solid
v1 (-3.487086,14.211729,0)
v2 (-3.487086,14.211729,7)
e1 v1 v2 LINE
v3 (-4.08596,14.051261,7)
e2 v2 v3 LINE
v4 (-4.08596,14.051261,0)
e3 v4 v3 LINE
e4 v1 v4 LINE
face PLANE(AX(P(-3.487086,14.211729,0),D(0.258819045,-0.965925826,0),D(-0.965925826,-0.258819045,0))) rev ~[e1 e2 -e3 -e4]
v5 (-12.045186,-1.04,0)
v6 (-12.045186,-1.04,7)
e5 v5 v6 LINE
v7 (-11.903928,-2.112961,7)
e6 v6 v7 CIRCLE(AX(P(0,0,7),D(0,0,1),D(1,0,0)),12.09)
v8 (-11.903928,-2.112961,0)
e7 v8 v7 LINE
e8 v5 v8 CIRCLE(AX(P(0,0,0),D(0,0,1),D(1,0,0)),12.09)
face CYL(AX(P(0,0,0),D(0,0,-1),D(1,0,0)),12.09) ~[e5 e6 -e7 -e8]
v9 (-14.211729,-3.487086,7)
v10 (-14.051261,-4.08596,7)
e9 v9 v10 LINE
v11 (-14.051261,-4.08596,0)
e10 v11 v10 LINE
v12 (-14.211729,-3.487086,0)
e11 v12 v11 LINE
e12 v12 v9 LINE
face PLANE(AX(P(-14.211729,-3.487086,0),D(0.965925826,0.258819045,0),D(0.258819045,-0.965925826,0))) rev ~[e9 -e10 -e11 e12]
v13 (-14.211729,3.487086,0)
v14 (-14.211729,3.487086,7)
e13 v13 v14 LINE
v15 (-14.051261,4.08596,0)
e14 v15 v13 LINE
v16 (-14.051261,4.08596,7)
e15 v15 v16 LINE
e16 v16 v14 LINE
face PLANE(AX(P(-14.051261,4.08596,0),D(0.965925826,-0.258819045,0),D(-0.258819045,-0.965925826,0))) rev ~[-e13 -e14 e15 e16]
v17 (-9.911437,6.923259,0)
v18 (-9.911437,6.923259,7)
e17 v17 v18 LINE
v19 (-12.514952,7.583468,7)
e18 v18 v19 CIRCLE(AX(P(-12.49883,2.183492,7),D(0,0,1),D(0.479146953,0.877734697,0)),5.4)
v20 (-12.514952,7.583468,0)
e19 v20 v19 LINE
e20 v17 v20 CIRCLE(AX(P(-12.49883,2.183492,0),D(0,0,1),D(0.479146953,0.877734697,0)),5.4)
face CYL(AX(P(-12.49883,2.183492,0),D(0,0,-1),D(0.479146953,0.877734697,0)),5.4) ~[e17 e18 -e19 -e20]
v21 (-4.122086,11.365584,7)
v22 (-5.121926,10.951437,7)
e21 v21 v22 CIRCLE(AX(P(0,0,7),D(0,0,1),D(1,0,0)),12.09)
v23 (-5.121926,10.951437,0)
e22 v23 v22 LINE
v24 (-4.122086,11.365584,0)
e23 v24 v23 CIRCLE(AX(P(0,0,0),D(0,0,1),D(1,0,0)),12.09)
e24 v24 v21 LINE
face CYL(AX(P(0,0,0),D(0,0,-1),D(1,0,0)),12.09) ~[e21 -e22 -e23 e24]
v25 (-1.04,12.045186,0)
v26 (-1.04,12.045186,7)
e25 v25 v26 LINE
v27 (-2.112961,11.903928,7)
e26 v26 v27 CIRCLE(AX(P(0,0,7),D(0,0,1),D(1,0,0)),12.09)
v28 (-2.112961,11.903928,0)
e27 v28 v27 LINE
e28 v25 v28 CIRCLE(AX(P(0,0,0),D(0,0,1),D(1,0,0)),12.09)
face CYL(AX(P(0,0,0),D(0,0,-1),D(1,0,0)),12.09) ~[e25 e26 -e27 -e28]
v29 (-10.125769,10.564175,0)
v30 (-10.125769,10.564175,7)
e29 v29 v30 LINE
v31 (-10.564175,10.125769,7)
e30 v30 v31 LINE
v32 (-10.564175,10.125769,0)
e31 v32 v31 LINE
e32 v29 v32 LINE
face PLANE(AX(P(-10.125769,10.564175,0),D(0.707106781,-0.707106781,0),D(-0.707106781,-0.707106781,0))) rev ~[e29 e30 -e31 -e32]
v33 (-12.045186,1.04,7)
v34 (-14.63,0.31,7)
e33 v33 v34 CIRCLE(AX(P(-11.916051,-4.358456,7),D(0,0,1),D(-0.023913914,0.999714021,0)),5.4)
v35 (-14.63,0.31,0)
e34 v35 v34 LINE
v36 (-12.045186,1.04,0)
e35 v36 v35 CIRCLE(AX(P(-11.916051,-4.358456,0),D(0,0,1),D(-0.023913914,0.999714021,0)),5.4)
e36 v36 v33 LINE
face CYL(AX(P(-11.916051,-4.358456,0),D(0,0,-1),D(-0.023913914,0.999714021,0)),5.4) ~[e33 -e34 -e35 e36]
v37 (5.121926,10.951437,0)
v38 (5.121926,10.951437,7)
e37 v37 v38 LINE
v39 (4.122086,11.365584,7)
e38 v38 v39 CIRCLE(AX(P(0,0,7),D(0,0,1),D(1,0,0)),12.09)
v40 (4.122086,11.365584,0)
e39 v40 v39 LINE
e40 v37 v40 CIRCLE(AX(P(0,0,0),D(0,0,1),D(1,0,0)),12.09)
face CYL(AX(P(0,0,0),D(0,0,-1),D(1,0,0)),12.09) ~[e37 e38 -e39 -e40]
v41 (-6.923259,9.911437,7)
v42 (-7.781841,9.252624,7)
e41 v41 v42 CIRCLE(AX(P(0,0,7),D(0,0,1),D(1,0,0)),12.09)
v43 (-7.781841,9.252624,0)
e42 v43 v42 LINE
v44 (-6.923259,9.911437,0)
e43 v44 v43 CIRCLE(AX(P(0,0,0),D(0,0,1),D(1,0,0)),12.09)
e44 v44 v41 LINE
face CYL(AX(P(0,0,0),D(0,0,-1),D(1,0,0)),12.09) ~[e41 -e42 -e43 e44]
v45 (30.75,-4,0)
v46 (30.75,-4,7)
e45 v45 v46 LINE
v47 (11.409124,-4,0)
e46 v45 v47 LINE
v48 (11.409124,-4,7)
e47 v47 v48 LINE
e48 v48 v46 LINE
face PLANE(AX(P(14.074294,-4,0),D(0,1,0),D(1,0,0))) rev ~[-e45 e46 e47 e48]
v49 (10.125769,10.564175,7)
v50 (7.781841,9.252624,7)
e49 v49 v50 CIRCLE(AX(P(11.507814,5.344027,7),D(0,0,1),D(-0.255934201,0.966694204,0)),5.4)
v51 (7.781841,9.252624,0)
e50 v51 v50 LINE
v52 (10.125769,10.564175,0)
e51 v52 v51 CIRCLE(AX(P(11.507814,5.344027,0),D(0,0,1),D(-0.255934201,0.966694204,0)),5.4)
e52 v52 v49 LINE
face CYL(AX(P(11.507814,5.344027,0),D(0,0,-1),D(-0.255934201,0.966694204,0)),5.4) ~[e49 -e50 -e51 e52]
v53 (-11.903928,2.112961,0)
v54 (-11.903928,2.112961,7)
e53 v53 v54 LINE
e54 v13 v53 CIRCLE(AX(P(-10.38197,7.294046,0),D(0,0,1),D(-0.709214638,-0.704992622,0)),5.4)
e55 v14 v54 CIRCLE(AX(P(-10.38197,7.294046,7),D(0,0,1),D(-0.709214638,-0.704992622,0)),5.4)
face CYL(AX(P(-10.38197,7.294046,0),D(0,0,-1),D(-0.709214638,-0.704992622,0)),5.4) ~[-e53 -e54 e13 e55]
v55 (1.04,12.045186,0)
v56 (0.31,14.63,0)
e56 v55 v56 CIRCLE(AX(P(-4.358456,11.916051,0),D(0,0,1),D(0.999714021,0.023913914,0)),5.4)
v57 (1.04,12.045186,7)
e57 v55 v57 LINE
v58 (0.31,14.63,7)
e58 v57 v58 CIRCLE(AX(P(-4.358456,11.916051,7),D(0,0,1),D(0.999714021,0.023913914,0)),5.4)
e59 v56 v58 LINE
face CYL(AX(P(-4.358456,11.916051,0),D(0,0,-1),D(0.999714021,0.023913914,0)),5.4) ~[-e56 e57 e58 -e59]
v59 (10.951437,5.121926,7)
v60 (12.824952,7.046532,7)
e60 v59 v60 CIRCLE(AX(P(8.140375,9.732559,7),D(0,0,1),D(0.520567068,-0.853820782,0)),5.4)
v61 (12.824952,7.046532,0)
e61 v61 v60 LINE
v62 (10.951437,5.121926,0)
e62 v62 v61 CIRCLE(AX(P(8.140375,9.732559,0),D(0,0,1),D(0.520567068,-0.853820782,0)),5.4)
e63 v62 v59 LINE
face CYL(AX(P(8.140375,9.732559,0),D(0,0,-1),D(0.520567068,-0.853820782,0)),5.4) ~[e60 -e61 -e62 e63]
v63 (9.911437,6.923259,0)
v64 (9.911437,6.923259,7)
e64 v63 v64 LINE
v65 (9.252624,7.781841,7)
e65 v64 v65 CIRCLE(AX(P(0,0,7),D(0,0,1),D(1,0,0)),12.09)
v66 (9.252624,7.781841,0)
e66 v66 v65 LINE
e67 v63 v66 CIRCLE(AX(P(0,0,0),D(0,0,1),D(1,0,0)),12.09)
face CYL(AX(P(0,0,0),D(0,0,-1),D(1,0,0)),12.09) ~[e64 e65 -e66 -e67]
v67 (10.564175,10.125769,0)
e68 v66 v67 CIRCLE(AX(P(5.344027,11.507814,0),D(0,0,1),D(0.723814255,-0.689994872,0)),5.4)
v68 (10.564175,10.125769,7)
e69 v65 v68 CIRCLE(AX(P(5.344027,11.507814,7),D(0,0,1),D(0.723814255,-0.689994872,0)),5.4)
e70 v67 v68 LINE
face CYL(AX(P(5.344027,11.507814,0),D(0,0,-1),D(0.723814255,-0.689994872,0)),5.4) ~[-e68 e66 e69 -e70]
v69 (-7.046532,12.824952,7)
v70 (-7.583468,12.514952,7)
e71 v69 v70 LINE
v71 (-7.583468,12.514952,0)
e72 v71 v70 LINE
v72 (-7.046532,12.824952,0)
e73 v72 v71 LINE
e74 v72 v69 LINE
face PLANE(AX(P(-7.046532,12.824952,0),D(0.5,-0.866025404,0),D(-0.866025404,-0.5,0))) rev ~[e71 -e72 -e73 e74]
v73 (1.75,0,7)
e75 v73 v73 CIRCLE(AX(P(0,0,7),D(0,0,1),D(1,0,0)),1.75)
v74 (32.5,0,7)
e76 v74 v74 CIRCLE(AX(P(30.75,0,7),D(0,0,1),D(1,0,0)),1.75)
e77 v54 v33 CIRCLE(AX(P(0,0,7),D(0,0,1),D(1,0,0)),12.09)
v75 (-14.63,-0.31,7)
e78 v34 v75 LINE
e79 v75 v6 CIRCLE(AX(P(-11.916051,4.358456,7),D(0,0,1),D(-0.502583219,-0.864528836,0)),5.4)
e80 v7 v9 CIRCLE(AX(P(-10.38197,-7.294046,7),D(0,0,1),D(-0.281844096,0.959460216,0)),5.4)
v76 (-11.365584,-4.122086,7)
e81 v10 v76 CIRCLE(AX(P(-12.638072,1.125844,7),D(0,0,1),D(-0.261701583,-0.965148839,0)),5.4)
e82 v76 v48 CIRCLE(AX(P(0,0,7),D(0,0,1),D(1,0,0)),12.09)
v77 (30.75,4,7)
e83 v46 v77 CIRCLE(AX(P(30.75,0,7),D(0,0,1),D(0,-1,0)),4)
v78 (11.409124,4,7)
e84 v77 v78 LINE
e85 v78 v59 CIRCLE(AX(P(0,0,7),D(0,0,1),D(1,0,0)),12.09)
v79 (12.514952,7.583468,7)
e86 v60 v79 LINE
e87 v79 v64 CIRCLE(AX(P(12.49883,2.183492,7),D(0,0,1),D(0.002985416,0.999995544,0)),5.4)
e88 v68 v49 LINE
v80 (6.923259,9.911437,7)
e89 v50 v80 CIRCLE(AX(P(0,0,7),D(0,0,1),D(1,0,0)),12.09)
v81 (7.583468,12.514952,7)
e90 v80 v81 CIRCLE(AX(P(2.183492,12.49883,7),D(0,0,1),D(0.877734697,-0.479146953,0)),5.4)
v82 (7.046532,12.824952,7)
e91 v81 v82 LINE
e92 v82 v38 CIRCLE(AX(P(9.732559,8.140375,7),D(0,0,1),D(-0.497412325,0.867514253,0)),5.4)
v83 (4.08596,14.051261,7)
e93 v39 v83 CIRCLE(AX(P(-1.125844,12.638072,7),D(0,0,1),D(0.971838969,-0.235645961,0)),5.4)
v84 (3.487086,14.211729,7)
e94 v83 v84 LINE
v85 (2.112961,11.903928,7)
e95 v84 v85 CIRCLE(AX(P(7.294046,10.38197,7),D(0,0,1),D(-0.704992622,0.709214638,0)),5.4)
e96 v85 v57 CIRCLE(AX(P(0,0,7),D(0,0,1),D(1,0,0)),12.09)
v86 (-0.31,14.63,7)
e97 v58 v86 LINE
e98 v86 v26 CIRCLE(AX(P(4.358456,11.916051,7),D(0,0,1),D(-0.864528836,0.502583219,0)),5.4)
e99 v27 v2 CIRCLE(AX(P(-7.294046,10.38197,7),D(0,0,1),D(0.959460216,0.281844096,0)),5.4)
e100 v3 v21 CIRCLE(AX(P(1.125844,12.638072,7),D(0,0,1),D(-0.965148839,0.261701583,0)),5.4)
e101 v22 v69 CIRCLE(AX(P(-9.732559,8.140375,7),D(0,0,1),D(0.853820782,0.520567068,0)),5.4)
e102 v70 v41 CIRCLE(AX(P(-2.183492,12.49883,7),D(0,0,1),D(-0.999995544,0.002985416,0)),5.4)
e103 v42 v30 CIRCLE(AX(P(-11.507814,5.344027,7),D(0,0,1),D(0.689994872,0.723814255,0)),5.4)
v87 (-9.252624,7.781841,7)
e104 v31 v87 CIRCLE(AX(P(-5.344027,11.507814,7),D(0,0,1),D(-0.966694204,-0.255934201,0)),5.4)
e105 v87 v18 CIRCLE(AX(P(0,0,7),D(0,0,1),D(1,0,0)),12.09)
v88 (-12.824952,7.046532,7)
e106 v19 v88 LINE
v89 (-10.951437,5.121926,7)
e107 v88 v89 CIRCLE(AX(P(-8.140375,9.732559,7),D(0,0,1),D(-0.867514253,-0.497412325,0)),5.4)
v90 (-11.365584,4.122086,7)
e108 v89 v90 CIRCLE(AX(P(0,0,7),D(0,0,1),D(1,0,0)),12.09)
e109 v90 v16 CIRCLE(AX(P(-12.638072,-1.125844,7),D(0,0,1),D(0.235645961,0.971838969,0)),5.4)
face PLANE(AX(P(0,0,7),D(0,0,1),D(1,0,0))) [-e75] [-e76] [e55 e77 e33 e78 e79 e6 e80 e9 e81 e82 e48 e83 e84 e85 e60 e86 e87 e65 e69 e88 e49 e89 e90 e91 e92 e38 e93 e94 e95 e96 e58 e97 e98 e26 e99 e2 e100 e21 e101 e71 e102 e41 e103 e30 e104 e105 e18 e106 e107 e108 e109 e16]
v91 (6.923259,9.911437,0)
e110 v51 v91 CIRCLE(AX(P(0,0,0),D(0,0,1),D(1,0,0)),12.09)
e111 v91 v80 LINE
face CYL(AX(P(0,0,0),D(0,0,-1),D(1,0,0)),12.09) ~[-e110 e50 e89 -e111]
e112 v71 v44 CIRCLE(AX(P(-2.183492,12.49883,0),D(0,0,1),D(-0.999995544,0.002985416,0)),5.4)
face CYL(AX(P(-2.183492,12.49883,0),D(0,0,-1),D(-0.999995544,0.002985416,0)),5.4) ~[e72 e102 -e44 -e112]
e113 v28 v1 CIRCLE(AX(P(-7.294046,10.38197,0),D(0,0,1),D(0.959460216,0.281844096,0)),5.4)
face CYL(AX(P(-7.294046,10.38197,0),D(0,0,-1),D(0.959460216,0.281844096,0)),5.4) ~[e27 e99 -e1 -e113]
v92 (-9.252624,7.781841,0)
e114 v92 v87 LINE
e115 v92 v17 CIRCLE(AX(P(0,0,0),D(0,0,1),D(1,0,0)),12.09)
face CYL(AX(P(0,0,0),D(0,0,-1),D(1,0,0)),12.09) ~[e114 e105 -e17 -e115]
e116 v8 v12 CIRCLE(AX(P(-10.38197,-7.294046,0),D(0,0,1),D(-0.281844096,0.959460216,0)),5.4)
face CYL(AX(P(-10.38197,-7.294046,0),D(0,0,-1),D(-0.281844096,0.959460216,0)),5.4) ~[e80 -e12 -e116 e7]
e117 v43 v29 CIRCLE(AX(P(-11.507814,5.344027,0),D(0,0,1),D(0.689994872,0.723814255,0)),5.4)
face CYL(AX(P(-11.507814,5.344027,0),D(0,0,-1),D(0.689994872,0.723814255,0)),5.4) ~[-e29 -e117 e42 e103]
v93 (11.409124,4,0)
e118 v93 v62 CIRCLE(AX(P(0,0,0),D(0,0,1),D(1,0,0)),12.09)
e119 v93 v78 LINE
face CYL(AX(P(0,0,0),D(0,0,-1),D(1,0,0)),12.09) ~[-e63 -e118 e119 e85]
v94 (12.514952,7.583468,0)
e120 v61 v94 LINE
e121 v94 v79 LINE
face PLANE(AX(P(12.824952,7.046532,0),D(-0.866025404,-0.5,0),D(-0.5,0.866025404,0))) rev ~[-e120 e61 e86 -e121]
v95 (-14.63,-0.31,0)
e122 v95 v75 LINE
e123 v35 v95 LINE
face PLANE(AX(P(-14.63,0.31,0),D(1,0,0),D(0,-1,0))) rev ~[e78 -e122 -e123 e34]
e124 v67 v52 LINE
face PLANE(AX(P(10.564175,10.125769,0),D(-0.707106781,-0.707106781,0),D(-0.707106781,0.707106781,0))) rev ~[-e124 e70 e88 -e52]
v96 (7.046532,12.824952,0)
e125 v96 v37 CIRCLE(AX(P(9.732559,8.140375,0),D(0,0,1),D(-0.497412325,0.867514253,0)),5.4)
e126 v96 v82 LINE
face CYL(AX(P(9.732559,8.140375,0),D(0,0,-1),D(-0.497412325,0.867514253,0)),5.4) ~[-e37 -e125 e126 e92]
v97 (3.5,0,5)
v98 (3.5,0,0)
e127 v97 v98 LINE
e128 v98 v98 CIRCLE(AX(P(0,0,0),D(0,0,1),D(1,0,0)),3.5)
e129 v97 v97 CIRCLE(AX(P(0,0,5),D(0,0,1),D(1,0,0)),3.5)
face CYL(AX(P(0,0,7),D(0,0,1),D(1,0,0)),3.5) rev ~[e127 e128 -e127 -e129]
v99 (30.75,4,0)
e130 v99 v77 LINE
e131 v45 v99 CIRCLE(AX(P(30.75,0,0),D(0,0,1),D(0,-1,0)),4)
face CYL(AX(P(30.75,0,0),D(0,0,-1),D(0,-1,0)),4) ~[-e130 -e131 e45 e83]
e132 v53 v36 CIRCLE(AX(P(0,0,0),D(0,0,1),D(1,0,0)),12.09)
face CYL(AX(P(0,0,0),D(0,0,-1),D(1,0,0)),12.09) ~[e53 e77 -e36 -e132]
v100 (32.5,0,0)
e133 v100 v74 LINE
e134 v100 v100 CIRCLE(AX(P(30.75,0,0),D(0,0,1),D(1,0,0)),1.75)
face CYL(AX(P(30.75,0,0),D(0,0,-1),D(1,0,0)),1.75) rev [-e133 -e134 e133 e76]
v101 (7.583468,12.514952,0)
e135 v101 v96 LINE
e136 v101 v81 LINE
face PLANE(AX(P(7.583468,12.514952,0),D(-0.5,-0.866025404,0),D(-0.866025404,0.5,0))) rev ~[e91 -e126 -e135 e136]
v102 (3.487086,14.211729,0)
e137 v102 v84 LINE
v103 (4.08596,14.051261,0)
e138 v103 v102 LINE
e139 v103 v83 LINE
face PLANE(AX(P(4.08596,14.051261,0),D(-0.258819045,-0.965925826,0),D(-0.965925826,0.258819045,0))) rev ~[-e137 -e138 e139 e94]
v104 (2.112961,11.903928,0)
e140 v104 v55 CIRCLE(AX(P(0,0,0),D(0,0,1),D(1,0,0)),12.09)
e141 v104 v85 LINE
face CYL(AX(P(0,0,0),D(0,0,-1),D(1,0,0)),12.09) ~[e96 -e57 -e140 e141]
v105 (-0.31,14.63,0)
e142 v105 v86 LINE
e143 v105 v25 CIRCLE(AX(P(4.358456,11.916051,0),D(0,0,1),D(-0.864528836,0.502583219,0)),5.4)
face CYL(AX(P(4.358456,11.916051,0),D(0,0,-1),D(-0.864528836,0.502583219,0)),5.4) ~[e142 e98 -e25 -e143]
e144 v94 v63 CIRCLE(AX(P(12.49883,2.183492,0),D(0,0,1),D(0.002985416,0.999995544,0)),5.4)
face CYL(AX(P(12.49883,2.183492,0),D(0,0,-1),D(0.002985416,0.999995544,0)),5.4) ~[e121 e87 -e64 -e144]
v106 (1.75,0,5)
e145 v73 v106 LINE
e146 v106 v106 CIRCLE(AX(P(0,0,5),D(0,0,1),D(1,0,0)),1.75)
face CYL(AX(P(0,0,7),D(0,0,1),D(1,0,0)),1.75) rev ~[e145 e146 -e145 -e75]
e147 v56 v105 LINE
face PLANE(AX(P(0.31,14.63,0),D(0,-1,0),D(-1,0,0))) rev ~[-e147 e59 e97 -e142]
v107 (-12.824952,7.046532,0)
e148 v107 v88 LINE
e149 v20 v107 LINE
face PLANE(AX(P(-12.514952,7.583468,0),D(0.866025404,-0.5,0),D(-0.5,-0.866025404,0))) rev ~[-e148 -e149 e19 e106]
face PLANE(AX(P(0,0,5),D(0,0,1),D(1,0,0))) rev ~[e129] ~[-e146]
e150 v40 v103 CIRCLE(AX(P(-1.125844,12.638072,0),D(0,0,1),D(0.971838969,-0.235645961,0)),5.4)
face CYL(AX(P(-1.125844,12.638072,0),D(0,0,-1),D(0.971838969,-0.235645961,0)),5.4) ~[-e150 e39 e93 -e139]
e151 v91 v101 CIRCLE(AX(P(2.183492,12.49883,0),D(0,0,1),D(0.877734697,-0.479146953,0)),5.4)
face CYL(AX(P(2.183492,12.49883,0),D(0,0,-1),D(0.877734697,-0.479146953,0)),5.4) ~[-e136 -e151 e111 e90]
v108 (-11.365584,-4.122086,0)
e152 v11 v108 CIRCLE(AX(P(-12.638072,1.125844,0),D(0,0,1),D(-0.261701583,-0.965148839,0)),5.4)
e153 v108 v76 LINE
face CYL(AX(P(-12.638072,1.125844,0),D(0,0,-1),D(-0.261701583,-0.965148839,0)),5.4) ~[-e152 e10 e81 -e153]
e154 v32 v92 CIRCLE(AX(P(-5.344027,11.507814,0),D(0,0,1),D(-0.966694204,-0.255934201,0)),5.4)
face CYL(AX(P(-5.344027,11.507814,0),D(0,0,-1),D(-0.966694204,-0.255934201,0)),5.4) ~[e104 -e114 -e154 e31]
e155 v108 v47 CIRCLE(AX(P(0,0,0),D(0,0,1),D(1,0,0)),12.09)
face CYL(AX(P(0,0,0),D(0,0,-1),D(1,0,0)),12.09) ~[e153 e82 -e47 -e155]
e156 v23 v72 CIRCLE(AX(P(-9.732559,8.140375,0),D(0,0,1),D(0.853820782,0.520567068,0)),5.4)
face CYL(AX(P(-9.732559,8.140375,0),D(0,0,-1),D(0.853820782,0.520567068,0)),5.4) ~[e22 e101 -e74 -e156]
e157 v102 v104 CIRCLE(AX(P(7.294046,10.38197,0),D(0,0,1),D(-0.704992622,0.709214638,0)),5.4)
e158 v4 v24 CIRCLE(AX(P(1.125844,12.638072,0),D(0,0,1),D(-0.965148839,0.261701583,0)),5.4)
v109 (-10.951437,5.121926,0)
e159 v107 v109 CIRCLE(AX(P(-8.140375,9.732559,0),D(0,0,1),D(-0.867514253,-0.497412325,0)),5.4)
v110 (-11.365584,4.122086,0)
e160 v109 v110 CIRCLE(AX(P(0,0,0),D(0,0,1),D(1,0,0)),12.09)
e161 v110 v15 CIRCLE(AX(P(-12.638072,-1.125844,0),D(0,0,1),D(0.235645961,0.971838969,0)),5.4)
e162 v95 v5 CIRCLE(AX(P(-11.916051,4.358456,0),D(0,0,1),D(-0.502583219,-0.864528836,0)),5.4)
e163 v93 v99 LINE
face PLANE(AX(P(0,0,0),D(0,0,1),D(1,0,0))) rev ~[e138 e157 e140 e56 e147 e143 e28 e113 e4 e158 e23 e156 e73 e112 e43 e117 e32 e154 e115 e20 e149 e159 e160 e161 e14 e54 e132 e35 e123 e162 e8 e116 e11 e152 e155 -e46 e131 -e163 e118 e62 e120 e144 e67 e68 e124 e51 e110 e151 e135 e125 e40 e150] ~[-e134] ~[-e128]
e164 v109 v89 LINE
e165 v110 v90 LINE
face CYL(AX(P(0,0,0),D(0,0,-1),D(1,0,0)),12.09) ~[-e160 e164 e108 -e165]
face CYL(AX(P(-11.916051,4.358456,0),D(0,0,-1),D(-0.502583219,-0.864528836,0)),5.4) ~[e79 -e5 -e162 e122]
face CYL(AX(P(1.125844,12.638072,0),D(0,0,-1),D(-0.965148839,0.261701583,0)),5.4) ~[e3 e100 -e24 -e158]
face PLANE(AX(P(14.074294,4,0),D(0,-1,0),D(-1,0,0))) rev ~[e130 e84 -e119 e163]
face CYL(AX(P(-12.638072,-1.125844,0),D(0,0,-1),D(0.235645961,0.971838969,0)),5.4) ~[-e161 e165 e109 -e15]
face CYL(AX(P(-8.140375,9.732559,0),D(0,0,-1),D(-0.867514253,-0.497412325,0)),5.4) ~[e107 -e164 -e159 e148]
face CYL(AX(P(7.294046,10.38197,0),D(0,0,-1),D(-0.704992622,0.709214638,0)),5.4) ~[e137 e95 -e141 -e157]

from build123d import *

# Parameters (mm, degrees)
SKETCH1_R           = 12.09
SKETCH1_R_2         = 1.75
BOSS_EXTRUDE2_DEPTH = 7
SKETCH2_R           = 3.5
CUT_EXTRUDE1_DEPTH  = 39.348395012
SKETCH3_R           = 3.5
SKETCH3_R_2         = 1.75
BOSS_EXTRUDE3_DEPTH = 2


with BuildPart() as part:
    # Sketch1 → Boss-Extrude2 (new body)
    # profile 1 of 17: a face of its own
    with BuildSketch(Plane.XY):
        Circle(SKETCH1_R)
    # profile 2 of 17: a face of its own
    with BuildSketch(Plane.XY):
        with BuildLine():
            ThreePointArc((-9.252623584, 7.781841479), (-8.548920985, 8.548920985), (-7.781841479, 9.252623584))
            ThreePointArc((-7.781841479, 9.252623584), (-8.870959341, 10.05645683), (-10.125769107, 10.564175311))
            Line((-10.125769107, 10.564175311), (-10.564175311, 10.125769107))
            ThreePointArc((-10.564175311, 10.125769107), (-10.05645683, 8.870959341), (-9.252623584, 7.781841479))
        make_face()
    # profile 3 of 17: a face of its own
    with BuildSketch(Plane.XY):
        with BuildLine():
            ThreePointArc((-6.9232593, 9.911436862), (-6.045, 10.470247132), (-5.12192646, 10.951436862))
            ThreePointArc((-5.12192646, 10.951436862), (-5.965886177, 12.009764599), (-7.046532125, 12.824951657))
            Line((-7.046532125, 12.824951657), (-7.583467875, 12.514951657))
            ThreePointArc((-7.583467875, 12.514951657), (-7.417818147, 11.171491285), (-6.9232593, 9.911436862))
        make_face()
    # profile 4 of 17: a face of its own
    with BuildSketch(Plane.XY):
        with BuildLine():
            ThreePointArc((-4.122086336, 11.365584201), (-3.129122255, 11.67804324), (-2.112960617, 11.903927815))
            ThreePointArc((-2.112960617, 11.903927815), (-2.65424773, 13.144626757), (-3.487085624, 14.211728743))
            Line((-3.487085624, 14.211728743), (-4.085959636, 14.051260935))
            ThreePointArc((-4.085959636, 14.051260935), (-4.273667417, 12.71070456), (-4.122086336, 11.365584201))
        make_face()
    # profile 5 of 17: a face of its own
    with BuildSketch(Plane.XY):
        with BuildLine():
            Line((0.31, 14.63), (-0.31, 14.63))
            ThreePointArc((-0.31, 14.63), (-0.838273314, 13.383704325), (-1.04, 12.04518576))
            ThreePointArc((-1.04, 12.04518576), (0, 12.09), (1.04, 12.04518576))
            ThreePointArc((1.04, 12.04518576), (0.838273314, 13.383704325), (0.31, 14.63))
        make_face()
    # profile 6 of 17: a face of its own
    with BuildSketch(Plane.XY):
        with BuildLine():
            ThreePointArc((3.487085624, 14.211728743), (2.65424773, 13.144626757), (2.112960617, 11.903927815))
            ThreePointArc((2.112960617, 11.903927815), (3.129122255, 11.67804324), (4.122086336, 11.365584201))
            ThreePointArc((4.122086336, 11.365584201), (4.273667417, 12.71070456), (4.085959636, 14.051260935))
            Line((4.085959636, 14.051260935), (3.487085624, 14.211728743))
        make_face()
    # profile 7 of 17: a face of its own
    with BuildSketch(Plane.XY):
        with BuildLine():
            ThreePointArc((7.046532125, 12.824951657), (5.965886177, 12.009764599), (5.12192646, 10.951436862))
            ThreePointArc((5.12192646, 10.951436862), (6.045, 10.470247132), (6.9232593, 9.911436862))
            ThreePointArc((6.9232593, 9.911436862), (7.417818147, 11.171491285), (7.583467875, 12.514951657))
            Line((7.583467875, 12.514951657), (7.046532125, 12.824951657))
        make_face()
    # profile 8 of 17: a face of its own
    with BuildSketch(Plane.XY):
        with BuildLine():
            ThreePointArc((10.125769107, 10.564175311), (8.870959341, 10.05645683), (7.781841479, 9.252623584))
            ThreePointArc((7.781841479, 9.252623584), (8.548920985, 8.548920985), (9.252623584, 7.781841479))
            ThreePointArc((9.252623584, 7.781841479), (10.05645683, 8.870959341), (10.564175311, 10.125769107))
            Line((10.564175311, 10.125769107), (10.125769107, 10.564175311))
        make_face()
    # profile 9 of 17: a face of its own
    with BuildSketch(Plane.XY):
        with BuildLine():
            ThreePointArc((12.514951657, 7.583467875), (11.171491285, 7.417818147), (9.911436862, 6.9232593))
            ThreePointArc((9.911436862, 6.9232593), (10.470247132, 6.045), (10.951436862, 5.12192646))
            ThreePointArc((10.951436862, 5.12192646), (12.009764599, 5.965886177), (12.824951657, 7.046532125))
            Line((12.824951657, 7.046532125), (12.514951657, 7.583467875))
        make_face()
    # profile 10 of 17: a face of its own
    with BuildSketch(Plane.XY):
        with BuildLine():
            Line((14.07429375, 4), (11.409123542, 4))
            ThreePointArc((11.409123542, 4), (11.694649217, 3.066476756), (11.903927815, 2.112960617))
            ThreePointArc((11.903927815, 2.112960617), (13.144626757, 2.65424773), (14.211728743, 3.487085624))
            Line((14.211728743, 3.487085624), (14.07429375, 4))
        make_face()
    # profile 11 of 17: a face of its own
    with BuildSketch(Plane.XY):
        with BuildLine():
            Line((30.75, 4), (14.07429375, 4))
            Line((14.07429375, 4), (14.211728743, 3.487085624))
            ThreePointArc((14.211728743, 3.487085624), (13.144626757, 2.65424773), (11.903927815, 2.112960617))
            ThreePointArc((11.903927815, 2.112960617), (11.986568374, 1.578061664), (12.04518576, 1.04))
            ThreePointArc((12.04518576, 1.04), (13.383704325, 0.838273314), (14.63, 0.31))
            Line((14.63, 0.31), (14.63, -0.31))
            ThreePointArc((14.63, -0.31), (13.383704325, -0.838273314), (12.04518576, -1.04))
            ThreePointArc((12.04518576, -1.04), (11.986568374, -1.578061664), (11.903927815, -2.112960617))
            ThreePointArc((11.903927815, -2.112960617), (13.144626757, -2.65424773), (14.211728743, -3.487085624))
            Line((14.211728743, -3.487085624), (14.07429375, -4))
            Line((14.07429375, -4), (30.75, -4))
            ThreePointArc((30.75, -4), (34.75, 0), (30.75, 4))
        make_face()
        with Locations((30.75, 0)):
            Circle(SKETCH1_R_2, mode=Mode.SUBTRACT)
    # profile 12 of 17: a face of its own
    with BuildSketch(Plane.XY):
        with BuildLine():
            ThreePointArc((14.63, 0.31), (13.383704325, 0.838273314), (12.04518576, 1.04))
            ThreePointArc((12.04518576, 1.04), (12.078791244, 0.520482544), (12.09, 0))
            ThreePointArc((12.09, 0), (12.078791244, -0.520482544), (12.04518576, -1.04))
            ThreePointArc((12.04518576, -1.04), (13.383704325, -0.838273314), (14.63, -0.31))
            Line((14.63, -0.31), (14.63, 0.31))
        make_face()
    # profile 13 of 17: a face of its own
    with BuildSketch(Plane.XY):
        with BuildLine():
            Line((11.409123542, -4), (14.07429375, -4))
            Line((14.07429375, -4), (14.211728743, -3.487085624))
            ThreePointArc((14.211728743, -3.487085624), (13.144626757, -2.65424773), (11.903927815, -2.112960617))
            ThreePointArc((11.903927815, -2.112960617), (11.694649217, -3.066476756), (11.409123542, -4))
        make_face()
    # profile 14 of 17: a face of its own
    with BuildSketch(Plane.XY):
        with BuildLine():
            ThreePointArc((-10.951436862, 5.12192646), (-10.470247132, 6.045), (-9.911436862, 6.9232593))
            ThreePointArc((-9.911436862, 6.9232593), (-11.171491285, 7.417818147), (-12.514951657, 7.583467875))
            Line((-12.514951657, 7.583467875), (-12.824951657, 7.046532125))
            ThreePointArc((-12.824951657, 7.046532125), (-12.009764599, 5.965886177), (-10.951436862, 5.12192646))
        make_face()
    # profile 15 of 17: a face of its own
    with BuildSketch(Plane.XY):
        with BuildLine():
            ThreePointArc((-11.903927815, 2.112960617), (-11.67804324, 3.129122255), (-11.365584201, 4.122086336))
            ThreePointArc((-11.365584201, 4.122086336), (-12.71070456, 4.273667417), (-14.051260935, 4.085959636))
            Line((-14.051260935, 4.085959636), (-14.211728743, 3.487085624))
            ThreePointArc((-14.211728743, 3.487085624), (-13.144626757, 2.65424773), (-11.903927815, 2.112960617))
        make_face()
    # profile 16 of 17: a face of its own
    with BuildSketch(Plane.XY):
        with BuildLine():
            ThreePointArc((-12.04518576, -1.04), (-12.09, 0), (-12.04518576, 1.04))
            ThreePointArc((-12.04518576, 1.04), (-13.383704325, 0.838273314), (-14.63, 0.31))
            Line((-14.63, 0.31), (-14.63, -0.31))
            ThreePointArc((-14.63, -0.31), (-13.383704325, -0.838273314), (-12.04518576, -1.04))
        make_face()
    # profile 17 of 17: a face of its own
    with BuildSketch(Plane.XY):
        with BuildLine():
            ThreePointArc((-11.365584201, -4.122086336), (-11.67804324, -3.129122255), (-11.903927815, -2.112960617))
            ThreePointArc((-11.903927815, -2.112960617), (-13.144626757, -2.65424773), (-14.211728743, -3.487085624))
            Line((-14.211728743, -3.487085624), (-14.051260935, -4.085959636))
            ThreePointArc((-14.051260935, -4.085959636), (-12.71070456, -4.273667417), (-11.365584201, -4.122086336))
        make_face()
    extrude(amount=BOSS_EXTRUDE2_DEPTH)

    # Sketch2 → Cut-Extrude1 (cut, through all)
    with BuildSketch(Plane.XY.offset(7)):
        Circle(SKETCH2_R)
    extrude(amount=-CUT_EXTRUDE1_DEPTH, mode=Mode.SUBTRACT)

    # Sketch3 → Boss-Extrude3 (add)
    with BuildSketch(Plane.XY.offset(7)):
        Circle(SKETCH3_R)
        Circle(SKETCH3_R_2, mode=Mode.SUBTRACT)
    extrude(amount=-BOSS_EXTRUDE3_DEPTH)


solid = part.part
